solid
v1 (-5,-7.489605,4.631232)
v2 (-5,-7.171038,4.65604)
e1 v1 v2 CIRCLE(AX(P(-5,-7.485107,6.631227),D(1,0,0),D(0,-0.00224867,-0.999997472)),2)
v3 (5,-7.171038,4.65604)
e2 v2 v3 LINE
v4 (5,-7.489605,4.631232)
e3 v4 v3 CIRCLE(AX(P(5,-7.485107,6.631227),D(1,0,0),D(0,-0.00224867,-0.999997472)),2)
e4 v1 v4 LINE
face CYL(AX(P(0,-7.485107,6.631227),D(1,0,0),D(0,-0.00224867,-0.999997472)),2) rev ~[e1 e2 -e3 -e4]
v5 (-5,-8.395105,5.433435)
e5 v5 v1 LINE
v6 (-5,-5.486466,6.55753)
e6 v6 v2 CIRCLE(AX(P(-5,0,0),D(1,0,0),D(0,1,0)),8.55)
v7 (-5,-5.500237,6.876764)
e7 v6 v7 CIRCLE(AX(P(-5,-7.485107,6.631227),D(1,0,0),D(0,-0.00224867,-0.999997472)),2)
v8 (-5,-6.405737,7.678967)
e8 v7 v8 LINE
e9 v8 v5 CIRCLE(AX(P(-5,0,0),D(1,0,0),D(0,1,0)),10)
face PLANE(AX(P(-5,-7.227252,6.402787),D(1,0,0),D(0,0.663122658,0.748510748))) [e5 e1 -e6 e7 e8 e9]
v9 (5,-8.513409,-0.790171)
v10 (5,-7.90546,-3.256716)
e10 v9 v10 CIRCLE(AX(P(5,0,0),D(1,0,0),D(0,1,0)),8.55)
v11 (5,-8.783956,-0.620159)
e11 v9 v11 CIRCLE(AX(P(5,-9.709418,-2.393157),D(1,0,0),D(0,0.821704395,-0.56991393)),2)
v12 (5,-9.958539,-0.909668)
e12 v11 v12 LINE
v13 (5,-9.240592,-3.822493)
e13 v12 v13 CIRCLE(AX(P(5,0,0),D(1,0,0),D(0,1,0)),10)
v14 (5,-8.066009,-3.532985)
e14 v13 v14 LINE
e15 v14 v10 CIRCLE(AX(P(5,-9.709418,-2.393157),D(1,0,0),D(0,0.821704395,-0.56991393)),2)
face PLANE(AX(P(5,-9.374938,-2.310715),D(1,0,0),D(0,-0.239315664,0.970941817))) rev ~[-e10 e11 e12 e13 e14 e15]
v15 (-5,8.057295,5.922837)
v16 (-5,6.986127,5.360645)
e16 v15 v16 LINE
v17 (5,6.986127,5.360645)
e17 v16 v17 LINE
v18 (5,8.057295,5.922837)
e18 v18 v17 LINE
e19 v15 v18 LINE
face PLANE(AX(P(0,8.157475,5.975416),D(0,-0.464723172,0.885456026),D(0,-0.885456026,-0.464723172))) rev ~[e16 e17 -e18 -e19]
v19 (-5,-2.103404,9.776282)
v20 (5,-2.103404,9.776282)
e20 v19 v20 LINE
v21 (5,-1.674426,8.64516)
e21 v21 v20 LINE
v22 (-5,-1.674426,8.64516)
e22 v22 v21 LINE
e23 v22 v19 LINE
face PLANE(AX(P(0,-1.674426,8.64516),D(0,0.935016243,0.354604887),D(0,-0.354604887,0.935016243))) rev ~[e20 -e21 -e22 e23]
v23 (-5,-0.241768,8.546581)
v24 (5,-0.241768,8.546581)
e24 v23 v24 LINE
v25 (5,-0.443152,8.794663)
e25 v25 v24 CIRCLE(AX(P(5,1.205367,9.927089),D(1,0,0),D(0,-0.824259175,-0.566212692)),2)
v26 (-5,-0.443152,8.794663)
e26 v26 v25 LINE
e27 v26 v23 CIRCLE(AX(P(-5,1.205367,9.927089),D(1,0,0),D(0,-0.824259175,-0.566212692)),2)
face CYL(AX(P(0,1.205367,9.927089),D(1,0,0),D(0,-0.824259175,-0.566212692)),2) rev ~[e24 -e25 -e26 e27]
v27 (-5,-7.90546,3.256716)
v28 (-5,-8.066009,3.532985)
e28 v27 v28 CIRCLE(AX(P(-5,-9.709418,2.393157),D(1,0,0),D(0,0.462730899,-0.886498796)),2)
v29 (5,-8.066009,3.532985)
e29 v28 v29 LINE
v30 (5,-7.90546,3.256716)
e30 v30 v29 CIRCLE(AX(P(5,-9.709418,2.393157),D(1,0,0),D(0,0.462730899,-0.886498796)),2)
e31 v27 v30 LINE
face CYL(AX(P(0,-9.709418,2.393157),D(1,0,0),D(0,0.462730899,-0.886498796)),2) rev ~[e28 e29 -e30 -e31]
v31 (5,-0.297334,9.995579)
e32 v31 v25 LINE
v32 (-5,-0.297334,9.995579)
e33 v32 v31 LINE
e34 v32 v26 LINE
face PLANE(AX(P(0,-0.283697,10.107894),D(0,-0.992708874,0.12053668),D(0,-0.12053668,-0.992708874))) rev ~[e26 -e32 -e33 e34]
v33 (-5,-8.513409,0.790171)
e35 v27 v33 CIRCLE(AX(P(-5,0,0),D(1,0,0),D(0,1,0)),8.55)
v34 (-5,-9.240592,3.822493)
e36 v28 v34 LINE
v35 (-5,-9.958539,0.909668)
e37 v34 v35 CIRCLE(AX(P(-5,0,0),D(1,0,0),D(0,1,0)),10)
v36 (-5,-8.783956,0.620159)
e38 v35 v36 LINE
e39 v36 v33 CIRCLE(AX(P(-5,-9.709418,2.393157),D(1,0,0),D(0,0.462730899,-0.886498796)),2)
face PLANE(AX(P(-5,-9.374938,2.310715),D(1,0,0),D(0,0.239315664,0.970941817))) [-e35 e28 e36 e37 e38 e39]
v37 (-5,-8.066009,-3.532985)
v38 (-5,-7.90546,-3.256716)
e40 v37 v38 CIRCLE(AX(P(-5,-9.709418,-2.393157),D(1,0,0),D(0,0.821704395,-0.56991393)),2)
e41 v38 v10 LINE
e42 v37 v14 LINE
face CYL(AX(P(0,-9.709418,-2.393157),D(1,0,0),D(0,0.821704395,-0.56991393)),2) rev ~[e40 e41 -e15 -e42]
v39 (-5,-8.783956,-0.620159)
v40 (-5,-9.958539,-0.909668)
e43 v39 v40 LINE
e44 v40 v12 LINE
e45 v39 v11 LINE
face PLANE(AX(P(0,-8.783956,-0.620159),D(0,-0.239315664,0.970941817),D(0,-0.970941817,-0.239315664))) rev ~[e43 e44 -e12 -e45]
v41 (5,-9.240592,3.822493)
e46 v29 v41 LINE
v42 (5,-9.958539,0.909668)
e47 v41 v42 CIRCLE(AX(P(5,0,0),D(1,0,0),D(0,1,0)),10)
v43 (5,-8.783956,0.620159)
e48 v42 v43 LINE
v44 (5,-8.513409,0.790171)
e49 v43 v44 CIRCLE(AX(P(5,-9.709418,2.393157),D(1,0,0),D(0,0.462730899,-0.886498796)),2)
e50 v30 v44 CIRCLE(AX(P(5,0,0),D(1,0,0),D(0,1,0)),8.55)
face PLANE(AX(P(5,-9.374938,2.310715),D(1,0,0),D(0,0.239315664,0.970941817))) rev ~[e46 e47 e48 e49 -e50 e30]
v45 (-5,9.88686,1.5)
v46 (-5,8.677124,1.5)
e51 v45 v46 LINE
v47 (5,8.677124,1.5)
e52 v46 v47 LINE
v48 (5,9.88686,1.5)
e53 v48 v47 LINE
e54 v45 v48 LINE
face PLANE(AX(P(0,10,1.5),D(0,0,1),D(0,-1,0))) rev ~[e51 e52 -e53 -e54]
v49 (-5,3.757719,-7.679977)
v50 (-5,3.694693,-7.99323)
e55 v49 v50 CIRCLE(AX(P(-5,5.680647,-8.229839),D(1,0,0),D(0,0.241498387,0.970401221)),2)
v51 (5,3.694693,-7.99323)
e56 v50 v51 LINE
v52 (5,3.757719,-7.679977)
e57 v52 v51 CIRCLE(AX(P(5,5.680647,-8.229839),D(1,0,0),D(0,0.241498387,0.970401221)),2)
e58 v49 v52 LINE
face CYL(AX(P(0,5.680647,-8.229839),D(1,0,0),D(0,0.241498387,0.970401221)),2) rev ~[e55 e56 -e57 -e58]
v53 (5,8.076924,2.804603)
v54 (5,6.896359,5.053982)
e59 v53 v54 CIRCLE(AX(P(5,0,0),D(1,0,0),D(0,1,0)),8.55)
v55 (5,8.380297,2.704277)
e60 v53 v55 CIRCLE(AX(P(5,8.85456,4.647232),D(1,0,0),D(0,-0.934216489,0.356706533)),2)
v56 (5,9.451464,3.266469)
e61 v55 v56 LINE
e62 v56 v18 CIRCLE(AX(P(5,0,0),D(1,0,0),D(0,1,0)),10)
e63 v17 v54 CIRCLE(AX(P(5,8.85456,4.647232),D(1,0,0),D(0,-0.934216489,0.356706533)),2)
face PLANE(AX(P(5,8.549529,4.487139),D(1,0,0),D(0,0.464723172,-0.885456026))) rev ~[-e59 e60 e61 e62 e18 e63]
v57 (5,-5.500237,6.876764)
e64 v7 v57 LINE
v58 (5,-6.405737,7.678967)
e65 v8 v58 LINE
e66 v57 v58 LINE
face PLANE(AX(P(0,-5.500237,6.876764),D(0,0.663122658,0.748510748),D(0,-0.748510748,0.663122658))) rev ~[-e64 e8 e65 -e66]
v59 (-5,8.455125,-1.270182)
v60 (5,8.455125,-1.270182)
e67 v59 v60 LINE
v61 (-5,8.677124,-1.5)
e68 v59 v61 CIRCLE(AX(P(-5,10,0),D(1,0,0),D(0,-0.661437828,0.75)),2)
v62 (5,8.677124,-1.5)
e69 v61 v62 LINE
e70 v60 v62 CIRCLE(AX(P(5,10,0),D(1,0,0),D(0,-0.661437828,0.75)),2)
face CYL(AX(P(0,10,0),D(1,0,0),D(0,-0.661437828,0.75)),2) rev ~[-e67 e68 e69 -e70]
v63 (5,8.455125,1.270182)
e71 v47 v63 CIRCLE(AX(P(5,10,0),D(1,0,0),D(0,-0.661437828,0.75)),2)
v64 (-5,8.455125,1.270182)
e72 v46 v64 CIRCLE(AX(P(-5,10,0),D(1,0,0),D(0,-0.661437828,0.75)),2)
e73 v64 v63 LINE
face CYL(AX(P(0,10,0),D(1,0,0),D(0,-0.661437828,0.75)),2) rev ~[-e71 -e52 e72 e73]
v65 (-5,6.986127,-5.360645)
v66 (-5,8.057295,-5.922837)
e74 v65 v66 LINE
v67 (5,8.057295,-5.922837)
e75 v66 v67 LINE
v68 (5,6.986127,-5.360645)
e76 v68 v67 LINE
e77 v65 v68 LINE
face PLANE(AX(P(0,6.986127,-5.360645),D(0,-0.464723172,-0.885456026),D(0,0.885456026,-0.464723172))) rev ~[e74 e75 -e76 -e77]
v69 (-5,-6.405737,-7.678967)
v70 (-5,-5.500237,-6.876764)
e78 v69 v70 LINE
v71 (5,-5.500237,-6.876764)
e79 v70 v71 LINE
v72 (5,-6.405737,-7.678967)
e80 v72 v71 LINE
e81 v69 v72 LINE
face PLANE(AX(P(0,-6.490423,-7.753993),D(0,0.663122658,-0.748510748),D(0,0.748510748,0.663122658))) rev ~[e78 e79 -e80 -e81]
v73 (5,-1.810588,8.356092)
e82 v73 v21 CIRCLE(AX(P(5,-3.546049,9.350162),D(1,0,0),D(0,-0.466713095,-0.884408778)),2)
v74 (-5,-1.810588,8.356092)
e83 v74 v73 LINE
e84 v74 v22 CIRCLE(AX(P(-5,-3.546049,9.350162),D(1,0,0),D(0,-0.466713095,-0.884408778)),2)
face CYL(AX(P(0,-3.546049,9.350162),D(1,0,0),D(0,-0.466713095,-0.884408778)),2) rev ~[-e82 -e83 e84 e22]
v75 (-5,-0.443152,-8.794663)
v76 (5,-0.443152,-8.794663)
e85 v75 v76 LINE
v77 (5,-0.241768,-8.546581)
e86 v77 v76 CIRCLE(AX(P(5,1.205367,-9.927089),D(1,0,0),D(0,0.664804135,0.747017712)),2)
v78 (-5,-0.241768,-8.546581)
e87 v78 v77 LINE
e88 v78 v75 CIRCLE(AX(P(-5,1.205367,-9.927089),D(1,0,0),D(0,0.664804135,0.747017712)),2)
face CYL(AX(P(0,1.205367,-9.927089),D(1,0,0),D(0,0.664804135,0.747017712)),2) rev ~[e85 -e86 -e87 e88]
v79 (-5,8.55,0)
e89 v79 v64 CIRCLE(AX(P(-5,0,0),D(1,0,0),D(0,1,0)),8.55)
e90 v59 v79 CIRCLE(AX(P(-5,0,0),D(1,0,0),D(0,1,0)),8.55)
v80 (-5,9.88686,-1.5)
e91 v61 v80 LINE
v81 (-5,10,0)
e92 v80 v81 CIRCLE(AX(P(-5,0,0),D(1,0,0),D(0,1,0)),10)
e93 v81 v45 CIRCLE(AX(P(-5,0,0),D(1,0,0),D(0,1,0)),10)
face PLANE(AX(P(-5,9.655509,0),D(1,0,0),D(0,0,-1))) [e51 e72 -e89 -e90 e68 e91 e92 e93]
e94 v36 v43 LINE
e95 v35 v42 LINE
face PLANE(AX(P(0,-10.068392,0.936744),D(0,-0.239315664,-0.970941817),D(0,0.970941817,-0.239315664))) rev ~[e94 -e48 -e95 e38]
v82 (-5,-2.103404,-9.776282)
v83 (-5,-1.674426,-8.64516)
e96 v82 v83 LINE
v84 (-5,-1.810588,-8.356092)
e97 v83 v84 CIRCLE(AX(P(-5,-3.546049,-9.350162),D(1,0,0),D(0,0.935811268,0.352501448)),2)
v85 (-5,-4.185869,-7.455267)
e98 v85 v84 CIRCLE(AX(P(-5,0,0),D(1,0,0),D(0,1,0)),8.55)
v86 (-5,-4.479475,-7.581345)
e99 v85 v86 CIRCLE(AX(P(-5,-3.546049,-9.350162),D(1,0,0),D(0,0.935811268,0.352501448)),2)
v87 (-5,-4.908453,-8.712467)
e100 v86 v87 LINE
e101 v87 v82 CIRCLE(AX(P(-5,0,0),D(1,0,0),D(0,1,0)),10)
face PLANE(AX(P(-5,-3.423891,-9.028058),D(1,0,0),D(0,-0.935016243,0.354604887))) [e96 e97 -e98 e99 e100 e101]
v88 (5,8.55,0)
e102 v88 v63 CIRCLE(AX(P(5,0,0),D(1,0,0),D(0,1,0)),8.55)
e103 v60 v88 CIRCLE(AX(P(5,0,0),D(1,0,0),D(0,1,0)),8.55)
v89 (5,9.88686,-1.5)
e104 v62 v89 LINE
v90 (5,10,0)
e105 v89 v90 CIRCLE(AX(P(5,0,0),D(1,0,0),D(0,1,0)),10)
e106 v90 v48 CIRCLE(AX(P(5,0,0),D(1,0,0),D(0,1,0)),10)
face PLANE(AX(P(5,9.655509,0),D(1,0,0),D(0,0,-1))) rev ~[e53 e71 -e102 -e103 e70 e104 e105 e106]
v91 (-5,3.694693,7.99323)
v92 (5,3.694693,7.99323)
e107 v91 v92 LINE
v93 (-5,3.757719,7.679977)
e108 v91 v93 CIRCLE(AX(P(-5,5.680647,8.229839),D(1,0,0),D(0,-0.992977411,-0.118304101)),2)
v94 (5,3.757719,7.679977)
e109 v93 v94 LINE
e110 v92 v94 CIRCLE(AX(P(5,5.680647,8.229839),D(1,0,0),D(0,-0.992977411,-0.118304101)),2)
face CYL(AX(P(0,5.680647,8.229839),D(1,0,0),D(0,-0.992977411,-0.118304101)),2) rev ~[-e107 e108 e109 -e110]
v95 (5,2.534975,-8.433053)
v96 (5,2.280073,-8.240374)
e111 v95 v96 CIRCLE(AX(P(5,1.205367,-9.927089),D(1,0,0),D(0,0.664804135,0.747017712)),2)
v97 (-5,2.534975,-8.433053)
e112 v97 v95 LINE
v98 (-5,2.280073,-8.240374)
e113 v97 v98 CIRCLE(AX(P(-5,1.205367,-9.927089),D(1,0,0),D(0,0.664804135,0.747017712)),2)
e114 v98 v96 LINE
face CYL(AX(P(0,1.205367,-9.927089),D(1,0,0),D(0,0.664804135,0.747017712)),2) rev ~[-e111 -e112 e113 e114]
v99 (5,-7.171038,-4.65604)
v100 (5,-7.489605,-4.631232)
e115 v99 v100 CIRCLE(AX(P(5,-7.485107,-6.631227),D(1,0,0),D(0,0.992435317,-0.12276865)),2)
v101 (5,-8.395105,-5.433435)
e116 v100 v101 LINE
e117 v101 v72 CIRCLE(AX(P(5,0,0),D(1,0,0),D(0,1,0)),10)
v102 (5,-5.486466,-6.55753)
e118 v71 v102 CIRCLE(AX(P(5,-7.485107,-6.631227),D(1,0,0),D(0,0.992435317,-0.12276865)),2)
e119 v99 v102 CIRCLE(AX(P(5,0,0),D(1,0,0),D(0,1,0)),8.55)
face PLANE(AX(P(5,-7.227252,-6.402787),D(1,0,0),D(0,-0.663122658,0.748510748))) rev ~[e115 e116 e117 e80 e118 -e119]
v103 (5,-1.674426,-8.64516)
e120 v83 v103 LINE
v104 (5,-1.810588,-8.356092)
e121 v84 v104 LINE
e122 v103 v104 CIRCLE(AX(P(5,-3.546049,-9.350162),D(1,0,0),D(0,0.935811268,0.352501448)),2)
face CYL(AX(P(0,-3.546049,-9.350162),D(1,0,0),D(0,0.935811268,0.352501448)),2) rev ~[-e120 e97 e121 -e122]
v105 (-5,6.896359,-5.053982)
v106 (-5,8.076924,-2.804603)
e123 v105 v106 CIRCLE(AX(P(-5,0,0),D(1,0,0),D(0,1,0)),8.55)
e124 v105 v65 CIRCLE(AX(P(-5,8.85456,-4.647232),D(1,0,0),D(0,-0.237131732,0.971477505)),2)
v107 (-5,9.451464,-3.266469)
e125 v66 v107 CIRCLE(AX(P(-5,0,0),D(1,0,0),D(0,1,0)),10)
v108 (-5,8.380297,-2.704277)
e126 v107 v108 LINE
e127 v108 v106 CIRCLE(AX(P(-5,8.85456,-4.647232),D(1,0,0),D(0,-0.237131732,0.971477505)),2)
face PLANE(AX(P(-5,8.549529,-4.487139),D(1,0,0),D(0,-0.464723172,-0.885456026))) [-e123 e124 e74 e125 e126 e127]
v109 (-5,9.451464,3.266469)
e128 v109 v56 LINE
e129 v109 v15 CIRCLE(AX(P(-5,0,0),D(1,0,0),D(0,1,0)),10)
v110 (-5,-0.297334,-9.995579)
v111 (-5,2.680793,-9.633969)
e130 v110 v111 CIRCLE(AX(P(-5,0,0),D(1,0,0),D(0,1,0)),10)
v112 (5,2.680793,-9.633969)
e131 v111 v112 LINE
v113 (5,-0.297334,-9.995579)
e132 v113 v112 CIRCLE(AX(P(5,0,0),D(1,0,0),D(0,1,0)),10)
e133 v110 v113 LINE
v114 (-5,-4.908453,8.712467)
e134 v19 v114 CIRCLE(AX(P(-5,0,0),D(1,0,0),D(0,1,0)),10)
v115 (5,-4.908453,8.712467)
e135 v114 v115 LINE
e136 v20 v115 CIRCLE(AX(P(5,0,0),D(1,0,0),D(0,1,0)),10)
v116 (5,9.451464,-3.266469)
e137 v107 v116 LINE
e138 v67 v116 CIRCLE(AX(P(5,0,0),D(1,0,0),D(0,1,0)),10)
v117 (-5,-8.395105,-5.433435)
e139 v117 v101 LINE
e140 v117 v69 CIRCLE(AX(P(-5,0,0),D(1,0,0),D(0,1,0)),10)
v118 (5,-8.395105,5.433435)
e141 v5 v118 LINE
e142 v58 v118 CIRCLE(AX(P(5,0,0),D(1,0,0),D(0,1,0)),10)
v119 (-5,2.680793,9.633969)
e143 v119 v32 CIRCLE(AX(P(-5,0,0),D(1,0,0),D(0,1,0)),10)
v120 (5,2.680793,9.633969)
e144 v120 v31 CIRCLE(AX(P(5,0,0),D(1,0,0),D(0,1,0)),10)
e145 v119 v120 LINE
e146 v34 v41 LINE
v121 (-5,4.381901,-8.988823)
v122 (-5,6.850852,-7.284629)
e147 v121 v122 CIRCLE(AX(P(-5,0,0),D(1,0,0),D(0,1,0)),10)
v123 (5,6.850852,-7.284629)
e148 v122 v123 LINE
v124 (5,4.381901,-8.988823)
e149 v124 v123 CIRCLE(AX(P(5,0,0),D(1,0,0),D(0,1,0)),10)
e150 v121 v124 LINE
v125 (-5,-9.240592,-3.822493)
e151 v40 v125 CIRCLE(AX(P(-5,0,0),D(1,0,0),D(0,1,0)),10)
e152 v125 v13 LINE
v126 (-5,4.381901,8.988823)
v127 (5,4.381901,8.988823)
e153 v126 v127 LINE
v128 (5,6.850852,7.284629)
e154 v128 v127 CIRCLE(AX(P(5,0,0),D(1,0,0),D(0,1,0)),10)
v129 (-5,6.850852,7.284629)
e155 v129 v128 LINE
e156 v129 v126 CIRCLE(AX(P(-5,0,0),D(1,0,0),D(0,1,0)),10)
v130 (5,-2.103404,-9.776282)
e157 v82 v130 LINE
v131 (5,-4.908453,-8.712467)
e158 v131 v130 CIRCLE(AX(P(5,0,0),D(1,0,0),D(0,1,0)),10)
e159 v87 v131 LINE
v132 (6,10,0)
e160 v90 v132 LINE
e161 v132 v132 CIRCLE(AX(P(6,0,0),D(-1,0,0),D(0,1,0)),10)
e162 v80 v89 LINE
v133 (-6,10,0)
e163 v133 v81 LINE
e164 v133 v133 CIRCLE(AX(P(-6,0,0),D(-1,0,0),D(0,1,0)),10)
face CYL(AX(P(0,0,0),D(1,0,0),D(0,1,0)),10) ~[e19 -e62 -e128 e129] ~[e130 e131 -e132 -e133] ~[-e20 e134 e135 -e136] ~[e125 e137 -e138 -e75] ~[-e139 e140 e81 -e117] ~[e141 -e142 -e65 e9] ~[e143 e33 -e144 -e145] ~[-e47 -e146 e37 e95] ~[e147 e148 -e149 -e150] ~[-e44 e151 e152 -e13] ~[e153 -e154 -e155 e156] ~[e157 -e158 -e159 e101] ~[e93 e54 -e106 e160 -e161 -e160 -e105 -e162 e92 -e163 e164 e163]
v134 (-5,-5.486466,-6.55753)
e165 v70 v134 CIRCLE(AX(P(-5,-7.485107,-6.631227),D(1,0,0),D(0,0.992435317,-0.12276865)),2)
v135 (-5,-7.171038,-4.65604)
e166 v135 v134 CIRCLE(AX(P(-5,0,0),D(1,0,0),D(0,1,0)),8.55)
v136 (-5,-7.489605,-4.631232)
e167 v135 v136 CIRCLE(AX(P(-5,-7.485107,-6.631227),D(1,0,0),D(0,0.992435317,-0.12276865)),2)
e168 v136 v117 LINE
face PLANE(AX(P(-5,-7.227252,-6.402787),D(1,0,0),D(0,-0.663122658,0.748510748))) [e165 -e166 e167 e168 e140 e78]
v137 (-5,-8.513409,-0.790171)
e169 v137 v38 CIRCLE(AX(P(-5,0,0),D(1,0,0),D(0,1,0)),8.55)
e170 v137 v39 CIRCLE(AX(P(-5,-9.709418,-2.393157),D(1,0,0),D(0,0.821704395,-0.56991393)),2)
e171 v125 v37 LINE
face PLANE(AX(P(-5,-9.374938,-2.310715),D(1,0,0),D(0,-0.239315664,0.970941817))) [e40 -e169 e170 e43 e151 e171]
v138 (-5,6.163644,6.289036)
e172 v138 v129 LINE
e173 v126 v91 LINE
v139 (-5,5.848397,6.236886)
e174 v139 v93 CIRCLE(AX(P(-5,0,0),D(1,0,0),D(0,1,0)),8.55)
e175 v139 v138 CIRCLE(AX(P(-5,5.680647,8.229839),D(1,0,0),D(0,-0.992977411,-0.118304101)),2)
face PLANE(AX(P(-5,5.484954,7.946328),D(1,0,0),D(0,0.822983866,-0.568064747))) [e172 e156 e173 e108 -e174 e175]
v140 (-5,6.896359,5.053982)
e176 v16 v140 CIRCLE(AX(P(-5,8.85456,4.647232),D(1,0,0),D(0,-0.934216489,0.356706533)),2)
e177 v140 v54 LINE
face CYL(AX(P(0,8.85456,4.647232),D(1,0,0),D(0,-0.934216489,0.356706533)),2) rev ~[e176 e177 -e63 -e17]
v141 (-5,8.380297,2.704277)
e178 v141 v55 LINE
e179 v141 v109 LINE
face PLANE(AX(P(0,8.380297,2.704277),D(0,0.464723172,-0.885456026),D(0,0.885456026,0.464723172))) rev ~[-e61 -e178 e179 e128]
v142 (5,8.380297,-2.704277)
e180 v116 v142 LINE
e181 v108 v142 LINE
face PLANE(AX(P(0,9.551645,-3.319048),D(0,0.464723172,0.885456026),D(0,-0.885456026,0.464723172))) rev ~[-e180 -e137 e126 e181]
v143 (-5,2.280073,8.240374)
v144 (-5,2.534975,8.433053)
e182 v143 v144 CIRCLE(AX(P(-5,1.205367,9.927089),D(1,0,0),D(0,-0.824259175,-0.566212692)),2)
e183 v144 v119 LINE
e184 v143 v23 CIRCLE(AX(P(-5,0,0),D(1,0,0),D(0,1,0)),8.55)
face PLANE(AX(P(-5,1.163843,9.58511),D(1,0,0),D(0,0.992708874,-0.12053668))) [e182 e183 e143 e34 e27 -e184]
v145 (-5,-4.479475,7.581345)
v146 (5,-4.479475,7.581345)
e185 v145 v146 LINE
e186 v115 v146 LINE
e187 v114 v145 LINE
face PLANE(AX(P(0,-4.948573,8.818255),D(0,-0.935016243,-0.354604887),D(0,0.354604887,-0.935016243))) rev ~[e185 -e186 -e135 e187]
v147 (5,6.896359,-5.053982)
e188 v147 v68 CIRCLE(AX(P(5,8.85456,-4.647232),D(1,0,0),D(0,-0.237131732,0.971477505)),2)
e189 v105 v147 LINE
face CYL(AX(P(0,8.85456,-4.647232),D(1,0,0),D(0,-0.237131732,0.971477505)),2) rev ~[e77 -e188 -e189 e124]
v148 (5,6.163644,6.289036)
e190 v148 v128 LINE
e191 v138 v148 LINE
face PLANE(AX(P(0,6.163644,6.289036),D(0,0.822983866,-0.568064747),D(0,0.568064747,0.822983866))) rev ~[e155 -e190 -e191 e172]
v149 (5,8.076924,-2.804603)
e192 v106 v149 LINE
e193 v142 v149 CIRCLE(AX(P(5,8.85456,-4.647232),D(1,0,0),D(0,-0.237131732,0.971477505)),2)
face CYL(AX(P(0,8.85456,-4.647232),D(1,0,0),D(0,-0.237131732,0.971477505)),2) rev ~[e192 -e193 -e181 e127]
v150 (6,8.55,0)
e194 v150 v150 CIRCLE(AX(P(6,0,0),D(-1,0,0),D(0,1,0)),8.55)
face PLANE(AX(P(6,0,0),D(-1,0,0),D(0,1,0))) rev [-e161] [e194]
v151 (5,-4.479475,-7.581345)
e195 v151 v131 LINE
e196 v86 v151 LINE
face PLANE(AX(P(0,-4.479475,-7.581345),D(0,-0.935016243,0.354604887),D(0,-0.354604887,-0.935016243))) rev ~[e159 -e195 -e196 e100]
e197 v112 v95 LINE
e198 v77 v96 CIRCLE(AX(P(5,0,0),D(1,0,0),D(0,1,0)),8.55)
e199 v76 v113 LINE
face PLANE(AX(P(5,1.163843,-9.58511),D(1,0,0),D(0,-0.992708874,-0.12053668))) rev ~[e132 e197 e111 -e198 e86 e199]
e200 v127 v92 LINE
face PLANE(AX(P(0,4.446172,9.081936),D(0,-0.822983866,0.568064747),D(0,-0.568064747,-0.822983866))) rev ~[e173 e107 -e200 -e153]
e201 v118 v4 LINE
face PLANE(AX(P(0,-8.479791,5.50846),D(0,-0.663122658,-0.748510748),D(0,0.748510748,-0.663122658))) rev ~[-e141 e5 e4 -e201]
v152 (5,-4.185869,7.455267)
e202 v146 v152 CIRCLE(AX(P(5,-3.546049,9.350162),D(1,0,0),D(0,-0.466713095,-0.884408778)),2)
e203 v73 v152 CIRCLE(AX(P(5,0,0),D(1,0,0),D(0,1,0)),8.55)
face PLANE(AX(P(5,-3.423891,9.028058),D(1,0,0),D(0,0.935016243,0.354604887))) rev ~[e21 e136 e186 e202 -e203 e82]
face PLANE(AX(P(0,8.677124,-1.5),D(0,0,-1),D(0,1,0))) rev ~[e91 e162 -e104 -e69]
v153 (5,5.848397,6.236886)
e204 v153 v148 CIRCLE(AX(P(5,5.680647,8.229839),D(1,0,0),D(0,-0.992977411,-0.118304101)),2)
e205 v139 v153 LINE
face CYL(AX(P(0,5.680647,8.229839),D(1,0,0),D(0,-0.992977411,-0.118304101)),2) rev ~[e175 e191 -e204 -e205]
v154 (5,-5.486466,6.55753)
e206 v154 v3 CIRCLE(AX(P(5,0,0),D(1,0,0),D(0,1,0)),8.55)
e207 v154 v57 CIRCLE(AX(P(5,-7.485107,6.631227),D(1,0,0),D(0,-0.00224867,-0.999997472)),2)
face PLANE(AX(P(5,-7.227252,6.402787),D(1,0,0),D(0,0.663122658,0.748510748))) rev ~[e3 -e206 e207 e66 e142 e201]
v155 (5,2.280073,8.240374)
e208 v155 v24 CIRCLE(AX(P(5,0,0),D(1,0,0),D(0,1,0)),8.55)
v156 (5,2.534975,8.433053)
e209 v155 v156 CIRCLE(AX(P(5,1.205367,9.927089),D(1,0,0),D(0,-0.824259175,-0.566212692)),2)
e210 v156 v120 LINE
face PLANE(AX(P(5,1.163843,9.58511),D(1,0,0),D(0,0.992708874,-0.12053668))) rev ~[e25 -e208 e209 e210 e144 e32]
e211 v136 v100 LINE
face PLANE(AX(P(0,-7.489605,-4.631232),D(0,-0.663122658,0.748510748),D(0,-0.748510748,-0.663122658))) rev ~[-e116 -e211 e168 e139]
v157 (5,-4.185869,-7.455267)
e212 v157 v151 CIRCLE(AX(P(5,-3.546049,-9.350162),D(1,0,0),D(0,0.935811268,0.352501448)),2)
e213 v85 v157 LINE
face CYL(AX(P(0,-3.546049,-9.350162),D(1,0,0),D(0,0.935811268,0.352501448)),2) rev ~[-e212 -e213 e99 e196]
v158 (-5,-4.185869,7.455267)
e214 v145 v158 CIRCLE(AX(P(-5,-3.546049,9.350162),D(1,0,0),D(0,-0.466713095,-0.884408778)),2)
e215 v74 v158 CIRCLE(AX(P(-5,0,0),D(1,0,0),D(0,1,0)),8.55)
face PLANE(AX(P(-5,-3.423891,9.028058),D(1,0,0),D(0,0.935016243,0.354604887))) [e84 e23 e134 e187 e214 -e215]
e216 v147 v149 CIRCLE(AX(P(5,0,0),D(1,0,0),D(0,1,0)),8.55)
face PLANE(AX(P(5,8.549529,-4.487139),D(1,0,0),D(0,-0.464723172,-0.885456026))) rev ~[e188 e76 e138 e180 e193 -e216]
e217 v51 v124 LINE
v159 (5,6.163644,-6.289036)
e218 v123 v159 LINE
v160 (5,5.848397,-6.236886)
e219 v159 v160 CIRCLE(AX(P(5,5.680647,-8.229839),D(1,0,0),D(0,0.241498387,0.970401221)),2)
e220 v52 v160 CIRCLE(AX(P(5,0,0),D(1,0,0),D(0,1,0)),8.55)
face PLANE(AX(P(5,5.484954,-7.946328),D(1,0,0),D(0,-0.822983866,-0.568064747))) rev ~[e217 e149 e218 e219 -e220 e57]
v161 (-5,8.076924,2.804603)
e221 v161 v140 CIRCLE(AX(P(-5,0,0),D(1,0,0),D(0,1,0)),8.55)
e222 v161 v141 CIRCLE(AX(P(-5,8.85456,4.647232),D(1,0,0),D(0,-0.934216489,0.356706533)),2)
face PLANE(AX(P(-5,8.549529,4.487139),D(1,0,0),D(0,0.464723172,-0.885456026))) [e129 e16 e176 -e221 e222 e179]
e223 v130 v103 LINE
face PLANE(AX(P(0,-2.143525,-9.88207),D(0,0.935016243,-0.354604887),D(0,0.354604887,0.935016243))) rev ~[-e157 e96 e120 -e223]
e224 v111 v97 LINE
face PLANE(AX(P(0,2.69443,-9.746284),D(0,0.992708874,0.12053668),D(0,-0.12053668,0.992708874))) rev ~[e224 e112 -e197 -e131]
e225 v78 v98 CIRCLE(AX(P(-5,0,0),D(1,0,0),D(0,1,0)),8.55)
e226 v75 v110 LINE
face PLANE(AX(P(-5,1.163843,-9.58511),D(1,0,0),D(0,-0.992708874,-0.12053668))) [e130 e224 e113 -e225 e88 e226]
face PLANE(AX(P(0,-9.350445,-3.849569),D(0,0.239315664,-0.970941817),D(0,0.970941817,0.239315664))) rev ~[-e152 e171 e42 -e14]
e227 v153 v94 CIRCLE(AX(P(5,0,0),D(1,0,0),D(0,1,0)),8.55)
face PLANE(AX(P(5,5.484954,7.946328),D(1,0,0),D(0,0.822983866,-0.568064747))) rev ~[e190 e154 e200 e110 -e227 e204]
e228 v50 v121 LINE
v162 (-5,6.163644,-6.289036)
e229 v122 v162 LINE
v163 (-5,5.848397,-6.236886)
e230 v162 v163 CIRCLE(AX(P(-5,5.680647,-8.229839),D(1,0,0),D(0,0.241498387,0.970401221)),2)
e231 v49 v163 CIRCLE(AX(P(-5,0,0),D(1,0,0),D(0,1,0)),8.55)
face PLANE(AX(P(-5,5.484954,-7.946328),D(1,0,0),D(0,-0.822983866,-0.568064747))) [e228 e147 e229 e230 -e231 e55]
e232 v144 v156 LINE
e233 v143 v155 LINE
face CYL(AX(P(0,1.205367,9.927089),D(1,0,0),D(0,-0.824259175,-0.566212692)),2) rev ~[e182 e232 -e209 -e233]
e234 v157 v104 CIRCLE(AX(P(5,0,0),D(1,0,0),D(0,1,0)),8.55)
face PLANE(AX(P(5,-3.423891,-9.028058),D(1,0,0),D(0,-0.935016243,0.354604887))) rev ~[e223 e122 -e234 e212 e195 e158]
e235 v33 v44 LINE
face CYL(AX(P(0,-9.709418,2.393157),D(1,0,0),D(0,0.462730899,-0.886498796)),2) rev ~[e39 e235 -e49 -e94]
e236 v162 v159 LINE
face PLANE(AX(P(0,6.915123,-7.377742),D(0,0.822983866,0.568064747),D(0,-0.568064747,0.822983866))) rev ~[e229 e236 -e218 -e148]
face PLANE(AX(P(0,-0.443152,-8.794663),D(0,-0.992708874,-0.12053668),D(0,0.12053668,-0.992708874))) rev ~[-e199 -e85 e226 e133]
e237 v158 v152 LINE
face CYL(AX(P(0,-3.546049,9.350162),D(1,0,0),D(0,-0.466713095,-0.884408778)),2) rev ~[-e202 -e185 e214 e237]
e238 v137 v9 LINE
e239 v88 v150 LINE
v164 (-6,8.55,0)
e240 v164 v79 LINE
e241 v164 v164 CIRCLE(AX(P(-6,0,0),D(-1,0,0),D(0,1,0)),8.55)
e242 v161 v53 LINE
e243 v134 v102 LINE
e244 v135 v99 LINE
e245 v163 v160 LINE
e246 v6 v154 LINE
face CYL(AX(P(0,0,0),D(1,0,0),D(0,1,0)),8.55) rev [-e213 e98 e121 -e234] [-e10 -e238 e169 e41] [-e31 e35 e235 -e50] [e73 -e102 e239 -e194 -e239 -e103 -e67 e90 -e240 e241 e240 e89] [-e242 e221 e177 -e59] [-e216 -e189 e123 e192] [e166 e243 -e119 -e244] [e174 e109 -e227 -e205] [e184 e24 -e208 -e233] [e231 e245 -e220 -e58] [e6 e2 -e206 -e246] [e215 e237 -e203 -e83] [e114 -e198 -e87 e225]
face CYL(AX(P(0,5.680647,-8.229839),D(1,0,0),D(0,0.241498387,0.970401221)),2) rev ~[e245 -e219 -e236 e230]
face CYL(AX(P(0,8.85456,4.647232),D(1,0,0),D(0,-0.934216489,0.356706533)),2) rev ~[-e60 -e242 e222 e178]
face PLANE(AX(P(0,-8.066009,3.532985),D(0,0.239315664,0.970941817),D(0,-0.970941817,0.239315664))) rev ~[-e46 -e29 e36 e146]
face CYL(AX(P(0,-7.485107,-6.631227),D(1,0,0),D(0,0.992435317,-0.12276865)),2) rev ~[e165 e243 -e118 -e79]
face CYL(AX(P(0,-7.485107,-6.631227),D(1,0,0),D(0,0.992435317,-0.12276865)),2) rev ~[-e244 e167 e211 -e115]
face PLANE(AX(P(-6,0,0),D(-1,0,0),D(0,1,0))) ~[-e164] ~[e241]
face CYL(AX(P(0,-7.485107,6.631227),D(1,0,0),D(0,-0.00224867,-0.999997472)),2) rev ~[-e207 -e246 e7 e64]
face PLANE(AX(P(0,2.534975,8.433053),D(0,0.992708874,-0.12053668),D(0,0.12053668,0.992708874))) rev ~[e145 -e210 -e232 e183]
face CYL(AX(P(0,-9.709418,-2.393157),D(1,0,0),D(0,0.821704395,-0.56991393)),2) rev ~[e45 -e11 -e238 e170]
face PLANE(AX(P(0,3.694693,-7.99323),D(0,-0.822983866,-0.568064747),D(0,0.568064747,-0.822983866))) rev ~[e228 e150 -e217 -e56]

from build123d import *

# Parameters (mm, degrees)
SCHIZZO4_W                  = 12
SCHIZZO4_H                  = 1.45
TAGLIO_ESTRUSIONE1_DEPTH    = 5
RIPETIZIONECIRCOLARE1_COUNT = 13


with BuildPart() as part:
    # Schizzo4 → Rivoluzione1 (revolve)
    with BuildSketch(Plane.XY):
        with Locations((0, 9.275)):
            Rectangle(SCHIZZO4_W, SCHIZZO4_H)
    revolve(axis=Axis((0, 0, 0), (-1, 0, 0)))

    # Schizzo6 → Taglio-Estrusione1 (cut, symmetric)
    with BuildSketch(Plane(origin=(0, 0, 0), x_dir=(0, 0, -1), z_dir=(1, 0, 0))):
        with BuildLine():
            Line((-1.5, 10), (-1.5, 8.677124344))
            ThreePointArc((-1.5, 8.677124344), (0, 8), (1.5, 8.677124344))
            Line((1.5, 8.677124344), (1.5, 10))
            ThreePointArc((1.5, 10), (0, 11.5), (-1.5, 10))
        make_face()
    taglio_estrusione1 = extrude(amount=TAGLIO_ESTRUSIONE1_DEPTH, both=True, mode=Mode.SUBTRACT)

    # RipetizioneCircolare1: Taglio-Estrusione1 ×13 about axis
    ripetizionecircolare1_axis = Axis((0, 0, 0), (1, 0, 0))
    for i in range(1, RIPETIZIONECIRCOLARE1_COUNT):
        add(taglio_estrusione1.rotate(ripetizionecircolare1_axis, i * 360 / RIPETIZIONECIRCOLARE1_COUNT), mode=Mode.SUBTRACT)


solid = part.part
